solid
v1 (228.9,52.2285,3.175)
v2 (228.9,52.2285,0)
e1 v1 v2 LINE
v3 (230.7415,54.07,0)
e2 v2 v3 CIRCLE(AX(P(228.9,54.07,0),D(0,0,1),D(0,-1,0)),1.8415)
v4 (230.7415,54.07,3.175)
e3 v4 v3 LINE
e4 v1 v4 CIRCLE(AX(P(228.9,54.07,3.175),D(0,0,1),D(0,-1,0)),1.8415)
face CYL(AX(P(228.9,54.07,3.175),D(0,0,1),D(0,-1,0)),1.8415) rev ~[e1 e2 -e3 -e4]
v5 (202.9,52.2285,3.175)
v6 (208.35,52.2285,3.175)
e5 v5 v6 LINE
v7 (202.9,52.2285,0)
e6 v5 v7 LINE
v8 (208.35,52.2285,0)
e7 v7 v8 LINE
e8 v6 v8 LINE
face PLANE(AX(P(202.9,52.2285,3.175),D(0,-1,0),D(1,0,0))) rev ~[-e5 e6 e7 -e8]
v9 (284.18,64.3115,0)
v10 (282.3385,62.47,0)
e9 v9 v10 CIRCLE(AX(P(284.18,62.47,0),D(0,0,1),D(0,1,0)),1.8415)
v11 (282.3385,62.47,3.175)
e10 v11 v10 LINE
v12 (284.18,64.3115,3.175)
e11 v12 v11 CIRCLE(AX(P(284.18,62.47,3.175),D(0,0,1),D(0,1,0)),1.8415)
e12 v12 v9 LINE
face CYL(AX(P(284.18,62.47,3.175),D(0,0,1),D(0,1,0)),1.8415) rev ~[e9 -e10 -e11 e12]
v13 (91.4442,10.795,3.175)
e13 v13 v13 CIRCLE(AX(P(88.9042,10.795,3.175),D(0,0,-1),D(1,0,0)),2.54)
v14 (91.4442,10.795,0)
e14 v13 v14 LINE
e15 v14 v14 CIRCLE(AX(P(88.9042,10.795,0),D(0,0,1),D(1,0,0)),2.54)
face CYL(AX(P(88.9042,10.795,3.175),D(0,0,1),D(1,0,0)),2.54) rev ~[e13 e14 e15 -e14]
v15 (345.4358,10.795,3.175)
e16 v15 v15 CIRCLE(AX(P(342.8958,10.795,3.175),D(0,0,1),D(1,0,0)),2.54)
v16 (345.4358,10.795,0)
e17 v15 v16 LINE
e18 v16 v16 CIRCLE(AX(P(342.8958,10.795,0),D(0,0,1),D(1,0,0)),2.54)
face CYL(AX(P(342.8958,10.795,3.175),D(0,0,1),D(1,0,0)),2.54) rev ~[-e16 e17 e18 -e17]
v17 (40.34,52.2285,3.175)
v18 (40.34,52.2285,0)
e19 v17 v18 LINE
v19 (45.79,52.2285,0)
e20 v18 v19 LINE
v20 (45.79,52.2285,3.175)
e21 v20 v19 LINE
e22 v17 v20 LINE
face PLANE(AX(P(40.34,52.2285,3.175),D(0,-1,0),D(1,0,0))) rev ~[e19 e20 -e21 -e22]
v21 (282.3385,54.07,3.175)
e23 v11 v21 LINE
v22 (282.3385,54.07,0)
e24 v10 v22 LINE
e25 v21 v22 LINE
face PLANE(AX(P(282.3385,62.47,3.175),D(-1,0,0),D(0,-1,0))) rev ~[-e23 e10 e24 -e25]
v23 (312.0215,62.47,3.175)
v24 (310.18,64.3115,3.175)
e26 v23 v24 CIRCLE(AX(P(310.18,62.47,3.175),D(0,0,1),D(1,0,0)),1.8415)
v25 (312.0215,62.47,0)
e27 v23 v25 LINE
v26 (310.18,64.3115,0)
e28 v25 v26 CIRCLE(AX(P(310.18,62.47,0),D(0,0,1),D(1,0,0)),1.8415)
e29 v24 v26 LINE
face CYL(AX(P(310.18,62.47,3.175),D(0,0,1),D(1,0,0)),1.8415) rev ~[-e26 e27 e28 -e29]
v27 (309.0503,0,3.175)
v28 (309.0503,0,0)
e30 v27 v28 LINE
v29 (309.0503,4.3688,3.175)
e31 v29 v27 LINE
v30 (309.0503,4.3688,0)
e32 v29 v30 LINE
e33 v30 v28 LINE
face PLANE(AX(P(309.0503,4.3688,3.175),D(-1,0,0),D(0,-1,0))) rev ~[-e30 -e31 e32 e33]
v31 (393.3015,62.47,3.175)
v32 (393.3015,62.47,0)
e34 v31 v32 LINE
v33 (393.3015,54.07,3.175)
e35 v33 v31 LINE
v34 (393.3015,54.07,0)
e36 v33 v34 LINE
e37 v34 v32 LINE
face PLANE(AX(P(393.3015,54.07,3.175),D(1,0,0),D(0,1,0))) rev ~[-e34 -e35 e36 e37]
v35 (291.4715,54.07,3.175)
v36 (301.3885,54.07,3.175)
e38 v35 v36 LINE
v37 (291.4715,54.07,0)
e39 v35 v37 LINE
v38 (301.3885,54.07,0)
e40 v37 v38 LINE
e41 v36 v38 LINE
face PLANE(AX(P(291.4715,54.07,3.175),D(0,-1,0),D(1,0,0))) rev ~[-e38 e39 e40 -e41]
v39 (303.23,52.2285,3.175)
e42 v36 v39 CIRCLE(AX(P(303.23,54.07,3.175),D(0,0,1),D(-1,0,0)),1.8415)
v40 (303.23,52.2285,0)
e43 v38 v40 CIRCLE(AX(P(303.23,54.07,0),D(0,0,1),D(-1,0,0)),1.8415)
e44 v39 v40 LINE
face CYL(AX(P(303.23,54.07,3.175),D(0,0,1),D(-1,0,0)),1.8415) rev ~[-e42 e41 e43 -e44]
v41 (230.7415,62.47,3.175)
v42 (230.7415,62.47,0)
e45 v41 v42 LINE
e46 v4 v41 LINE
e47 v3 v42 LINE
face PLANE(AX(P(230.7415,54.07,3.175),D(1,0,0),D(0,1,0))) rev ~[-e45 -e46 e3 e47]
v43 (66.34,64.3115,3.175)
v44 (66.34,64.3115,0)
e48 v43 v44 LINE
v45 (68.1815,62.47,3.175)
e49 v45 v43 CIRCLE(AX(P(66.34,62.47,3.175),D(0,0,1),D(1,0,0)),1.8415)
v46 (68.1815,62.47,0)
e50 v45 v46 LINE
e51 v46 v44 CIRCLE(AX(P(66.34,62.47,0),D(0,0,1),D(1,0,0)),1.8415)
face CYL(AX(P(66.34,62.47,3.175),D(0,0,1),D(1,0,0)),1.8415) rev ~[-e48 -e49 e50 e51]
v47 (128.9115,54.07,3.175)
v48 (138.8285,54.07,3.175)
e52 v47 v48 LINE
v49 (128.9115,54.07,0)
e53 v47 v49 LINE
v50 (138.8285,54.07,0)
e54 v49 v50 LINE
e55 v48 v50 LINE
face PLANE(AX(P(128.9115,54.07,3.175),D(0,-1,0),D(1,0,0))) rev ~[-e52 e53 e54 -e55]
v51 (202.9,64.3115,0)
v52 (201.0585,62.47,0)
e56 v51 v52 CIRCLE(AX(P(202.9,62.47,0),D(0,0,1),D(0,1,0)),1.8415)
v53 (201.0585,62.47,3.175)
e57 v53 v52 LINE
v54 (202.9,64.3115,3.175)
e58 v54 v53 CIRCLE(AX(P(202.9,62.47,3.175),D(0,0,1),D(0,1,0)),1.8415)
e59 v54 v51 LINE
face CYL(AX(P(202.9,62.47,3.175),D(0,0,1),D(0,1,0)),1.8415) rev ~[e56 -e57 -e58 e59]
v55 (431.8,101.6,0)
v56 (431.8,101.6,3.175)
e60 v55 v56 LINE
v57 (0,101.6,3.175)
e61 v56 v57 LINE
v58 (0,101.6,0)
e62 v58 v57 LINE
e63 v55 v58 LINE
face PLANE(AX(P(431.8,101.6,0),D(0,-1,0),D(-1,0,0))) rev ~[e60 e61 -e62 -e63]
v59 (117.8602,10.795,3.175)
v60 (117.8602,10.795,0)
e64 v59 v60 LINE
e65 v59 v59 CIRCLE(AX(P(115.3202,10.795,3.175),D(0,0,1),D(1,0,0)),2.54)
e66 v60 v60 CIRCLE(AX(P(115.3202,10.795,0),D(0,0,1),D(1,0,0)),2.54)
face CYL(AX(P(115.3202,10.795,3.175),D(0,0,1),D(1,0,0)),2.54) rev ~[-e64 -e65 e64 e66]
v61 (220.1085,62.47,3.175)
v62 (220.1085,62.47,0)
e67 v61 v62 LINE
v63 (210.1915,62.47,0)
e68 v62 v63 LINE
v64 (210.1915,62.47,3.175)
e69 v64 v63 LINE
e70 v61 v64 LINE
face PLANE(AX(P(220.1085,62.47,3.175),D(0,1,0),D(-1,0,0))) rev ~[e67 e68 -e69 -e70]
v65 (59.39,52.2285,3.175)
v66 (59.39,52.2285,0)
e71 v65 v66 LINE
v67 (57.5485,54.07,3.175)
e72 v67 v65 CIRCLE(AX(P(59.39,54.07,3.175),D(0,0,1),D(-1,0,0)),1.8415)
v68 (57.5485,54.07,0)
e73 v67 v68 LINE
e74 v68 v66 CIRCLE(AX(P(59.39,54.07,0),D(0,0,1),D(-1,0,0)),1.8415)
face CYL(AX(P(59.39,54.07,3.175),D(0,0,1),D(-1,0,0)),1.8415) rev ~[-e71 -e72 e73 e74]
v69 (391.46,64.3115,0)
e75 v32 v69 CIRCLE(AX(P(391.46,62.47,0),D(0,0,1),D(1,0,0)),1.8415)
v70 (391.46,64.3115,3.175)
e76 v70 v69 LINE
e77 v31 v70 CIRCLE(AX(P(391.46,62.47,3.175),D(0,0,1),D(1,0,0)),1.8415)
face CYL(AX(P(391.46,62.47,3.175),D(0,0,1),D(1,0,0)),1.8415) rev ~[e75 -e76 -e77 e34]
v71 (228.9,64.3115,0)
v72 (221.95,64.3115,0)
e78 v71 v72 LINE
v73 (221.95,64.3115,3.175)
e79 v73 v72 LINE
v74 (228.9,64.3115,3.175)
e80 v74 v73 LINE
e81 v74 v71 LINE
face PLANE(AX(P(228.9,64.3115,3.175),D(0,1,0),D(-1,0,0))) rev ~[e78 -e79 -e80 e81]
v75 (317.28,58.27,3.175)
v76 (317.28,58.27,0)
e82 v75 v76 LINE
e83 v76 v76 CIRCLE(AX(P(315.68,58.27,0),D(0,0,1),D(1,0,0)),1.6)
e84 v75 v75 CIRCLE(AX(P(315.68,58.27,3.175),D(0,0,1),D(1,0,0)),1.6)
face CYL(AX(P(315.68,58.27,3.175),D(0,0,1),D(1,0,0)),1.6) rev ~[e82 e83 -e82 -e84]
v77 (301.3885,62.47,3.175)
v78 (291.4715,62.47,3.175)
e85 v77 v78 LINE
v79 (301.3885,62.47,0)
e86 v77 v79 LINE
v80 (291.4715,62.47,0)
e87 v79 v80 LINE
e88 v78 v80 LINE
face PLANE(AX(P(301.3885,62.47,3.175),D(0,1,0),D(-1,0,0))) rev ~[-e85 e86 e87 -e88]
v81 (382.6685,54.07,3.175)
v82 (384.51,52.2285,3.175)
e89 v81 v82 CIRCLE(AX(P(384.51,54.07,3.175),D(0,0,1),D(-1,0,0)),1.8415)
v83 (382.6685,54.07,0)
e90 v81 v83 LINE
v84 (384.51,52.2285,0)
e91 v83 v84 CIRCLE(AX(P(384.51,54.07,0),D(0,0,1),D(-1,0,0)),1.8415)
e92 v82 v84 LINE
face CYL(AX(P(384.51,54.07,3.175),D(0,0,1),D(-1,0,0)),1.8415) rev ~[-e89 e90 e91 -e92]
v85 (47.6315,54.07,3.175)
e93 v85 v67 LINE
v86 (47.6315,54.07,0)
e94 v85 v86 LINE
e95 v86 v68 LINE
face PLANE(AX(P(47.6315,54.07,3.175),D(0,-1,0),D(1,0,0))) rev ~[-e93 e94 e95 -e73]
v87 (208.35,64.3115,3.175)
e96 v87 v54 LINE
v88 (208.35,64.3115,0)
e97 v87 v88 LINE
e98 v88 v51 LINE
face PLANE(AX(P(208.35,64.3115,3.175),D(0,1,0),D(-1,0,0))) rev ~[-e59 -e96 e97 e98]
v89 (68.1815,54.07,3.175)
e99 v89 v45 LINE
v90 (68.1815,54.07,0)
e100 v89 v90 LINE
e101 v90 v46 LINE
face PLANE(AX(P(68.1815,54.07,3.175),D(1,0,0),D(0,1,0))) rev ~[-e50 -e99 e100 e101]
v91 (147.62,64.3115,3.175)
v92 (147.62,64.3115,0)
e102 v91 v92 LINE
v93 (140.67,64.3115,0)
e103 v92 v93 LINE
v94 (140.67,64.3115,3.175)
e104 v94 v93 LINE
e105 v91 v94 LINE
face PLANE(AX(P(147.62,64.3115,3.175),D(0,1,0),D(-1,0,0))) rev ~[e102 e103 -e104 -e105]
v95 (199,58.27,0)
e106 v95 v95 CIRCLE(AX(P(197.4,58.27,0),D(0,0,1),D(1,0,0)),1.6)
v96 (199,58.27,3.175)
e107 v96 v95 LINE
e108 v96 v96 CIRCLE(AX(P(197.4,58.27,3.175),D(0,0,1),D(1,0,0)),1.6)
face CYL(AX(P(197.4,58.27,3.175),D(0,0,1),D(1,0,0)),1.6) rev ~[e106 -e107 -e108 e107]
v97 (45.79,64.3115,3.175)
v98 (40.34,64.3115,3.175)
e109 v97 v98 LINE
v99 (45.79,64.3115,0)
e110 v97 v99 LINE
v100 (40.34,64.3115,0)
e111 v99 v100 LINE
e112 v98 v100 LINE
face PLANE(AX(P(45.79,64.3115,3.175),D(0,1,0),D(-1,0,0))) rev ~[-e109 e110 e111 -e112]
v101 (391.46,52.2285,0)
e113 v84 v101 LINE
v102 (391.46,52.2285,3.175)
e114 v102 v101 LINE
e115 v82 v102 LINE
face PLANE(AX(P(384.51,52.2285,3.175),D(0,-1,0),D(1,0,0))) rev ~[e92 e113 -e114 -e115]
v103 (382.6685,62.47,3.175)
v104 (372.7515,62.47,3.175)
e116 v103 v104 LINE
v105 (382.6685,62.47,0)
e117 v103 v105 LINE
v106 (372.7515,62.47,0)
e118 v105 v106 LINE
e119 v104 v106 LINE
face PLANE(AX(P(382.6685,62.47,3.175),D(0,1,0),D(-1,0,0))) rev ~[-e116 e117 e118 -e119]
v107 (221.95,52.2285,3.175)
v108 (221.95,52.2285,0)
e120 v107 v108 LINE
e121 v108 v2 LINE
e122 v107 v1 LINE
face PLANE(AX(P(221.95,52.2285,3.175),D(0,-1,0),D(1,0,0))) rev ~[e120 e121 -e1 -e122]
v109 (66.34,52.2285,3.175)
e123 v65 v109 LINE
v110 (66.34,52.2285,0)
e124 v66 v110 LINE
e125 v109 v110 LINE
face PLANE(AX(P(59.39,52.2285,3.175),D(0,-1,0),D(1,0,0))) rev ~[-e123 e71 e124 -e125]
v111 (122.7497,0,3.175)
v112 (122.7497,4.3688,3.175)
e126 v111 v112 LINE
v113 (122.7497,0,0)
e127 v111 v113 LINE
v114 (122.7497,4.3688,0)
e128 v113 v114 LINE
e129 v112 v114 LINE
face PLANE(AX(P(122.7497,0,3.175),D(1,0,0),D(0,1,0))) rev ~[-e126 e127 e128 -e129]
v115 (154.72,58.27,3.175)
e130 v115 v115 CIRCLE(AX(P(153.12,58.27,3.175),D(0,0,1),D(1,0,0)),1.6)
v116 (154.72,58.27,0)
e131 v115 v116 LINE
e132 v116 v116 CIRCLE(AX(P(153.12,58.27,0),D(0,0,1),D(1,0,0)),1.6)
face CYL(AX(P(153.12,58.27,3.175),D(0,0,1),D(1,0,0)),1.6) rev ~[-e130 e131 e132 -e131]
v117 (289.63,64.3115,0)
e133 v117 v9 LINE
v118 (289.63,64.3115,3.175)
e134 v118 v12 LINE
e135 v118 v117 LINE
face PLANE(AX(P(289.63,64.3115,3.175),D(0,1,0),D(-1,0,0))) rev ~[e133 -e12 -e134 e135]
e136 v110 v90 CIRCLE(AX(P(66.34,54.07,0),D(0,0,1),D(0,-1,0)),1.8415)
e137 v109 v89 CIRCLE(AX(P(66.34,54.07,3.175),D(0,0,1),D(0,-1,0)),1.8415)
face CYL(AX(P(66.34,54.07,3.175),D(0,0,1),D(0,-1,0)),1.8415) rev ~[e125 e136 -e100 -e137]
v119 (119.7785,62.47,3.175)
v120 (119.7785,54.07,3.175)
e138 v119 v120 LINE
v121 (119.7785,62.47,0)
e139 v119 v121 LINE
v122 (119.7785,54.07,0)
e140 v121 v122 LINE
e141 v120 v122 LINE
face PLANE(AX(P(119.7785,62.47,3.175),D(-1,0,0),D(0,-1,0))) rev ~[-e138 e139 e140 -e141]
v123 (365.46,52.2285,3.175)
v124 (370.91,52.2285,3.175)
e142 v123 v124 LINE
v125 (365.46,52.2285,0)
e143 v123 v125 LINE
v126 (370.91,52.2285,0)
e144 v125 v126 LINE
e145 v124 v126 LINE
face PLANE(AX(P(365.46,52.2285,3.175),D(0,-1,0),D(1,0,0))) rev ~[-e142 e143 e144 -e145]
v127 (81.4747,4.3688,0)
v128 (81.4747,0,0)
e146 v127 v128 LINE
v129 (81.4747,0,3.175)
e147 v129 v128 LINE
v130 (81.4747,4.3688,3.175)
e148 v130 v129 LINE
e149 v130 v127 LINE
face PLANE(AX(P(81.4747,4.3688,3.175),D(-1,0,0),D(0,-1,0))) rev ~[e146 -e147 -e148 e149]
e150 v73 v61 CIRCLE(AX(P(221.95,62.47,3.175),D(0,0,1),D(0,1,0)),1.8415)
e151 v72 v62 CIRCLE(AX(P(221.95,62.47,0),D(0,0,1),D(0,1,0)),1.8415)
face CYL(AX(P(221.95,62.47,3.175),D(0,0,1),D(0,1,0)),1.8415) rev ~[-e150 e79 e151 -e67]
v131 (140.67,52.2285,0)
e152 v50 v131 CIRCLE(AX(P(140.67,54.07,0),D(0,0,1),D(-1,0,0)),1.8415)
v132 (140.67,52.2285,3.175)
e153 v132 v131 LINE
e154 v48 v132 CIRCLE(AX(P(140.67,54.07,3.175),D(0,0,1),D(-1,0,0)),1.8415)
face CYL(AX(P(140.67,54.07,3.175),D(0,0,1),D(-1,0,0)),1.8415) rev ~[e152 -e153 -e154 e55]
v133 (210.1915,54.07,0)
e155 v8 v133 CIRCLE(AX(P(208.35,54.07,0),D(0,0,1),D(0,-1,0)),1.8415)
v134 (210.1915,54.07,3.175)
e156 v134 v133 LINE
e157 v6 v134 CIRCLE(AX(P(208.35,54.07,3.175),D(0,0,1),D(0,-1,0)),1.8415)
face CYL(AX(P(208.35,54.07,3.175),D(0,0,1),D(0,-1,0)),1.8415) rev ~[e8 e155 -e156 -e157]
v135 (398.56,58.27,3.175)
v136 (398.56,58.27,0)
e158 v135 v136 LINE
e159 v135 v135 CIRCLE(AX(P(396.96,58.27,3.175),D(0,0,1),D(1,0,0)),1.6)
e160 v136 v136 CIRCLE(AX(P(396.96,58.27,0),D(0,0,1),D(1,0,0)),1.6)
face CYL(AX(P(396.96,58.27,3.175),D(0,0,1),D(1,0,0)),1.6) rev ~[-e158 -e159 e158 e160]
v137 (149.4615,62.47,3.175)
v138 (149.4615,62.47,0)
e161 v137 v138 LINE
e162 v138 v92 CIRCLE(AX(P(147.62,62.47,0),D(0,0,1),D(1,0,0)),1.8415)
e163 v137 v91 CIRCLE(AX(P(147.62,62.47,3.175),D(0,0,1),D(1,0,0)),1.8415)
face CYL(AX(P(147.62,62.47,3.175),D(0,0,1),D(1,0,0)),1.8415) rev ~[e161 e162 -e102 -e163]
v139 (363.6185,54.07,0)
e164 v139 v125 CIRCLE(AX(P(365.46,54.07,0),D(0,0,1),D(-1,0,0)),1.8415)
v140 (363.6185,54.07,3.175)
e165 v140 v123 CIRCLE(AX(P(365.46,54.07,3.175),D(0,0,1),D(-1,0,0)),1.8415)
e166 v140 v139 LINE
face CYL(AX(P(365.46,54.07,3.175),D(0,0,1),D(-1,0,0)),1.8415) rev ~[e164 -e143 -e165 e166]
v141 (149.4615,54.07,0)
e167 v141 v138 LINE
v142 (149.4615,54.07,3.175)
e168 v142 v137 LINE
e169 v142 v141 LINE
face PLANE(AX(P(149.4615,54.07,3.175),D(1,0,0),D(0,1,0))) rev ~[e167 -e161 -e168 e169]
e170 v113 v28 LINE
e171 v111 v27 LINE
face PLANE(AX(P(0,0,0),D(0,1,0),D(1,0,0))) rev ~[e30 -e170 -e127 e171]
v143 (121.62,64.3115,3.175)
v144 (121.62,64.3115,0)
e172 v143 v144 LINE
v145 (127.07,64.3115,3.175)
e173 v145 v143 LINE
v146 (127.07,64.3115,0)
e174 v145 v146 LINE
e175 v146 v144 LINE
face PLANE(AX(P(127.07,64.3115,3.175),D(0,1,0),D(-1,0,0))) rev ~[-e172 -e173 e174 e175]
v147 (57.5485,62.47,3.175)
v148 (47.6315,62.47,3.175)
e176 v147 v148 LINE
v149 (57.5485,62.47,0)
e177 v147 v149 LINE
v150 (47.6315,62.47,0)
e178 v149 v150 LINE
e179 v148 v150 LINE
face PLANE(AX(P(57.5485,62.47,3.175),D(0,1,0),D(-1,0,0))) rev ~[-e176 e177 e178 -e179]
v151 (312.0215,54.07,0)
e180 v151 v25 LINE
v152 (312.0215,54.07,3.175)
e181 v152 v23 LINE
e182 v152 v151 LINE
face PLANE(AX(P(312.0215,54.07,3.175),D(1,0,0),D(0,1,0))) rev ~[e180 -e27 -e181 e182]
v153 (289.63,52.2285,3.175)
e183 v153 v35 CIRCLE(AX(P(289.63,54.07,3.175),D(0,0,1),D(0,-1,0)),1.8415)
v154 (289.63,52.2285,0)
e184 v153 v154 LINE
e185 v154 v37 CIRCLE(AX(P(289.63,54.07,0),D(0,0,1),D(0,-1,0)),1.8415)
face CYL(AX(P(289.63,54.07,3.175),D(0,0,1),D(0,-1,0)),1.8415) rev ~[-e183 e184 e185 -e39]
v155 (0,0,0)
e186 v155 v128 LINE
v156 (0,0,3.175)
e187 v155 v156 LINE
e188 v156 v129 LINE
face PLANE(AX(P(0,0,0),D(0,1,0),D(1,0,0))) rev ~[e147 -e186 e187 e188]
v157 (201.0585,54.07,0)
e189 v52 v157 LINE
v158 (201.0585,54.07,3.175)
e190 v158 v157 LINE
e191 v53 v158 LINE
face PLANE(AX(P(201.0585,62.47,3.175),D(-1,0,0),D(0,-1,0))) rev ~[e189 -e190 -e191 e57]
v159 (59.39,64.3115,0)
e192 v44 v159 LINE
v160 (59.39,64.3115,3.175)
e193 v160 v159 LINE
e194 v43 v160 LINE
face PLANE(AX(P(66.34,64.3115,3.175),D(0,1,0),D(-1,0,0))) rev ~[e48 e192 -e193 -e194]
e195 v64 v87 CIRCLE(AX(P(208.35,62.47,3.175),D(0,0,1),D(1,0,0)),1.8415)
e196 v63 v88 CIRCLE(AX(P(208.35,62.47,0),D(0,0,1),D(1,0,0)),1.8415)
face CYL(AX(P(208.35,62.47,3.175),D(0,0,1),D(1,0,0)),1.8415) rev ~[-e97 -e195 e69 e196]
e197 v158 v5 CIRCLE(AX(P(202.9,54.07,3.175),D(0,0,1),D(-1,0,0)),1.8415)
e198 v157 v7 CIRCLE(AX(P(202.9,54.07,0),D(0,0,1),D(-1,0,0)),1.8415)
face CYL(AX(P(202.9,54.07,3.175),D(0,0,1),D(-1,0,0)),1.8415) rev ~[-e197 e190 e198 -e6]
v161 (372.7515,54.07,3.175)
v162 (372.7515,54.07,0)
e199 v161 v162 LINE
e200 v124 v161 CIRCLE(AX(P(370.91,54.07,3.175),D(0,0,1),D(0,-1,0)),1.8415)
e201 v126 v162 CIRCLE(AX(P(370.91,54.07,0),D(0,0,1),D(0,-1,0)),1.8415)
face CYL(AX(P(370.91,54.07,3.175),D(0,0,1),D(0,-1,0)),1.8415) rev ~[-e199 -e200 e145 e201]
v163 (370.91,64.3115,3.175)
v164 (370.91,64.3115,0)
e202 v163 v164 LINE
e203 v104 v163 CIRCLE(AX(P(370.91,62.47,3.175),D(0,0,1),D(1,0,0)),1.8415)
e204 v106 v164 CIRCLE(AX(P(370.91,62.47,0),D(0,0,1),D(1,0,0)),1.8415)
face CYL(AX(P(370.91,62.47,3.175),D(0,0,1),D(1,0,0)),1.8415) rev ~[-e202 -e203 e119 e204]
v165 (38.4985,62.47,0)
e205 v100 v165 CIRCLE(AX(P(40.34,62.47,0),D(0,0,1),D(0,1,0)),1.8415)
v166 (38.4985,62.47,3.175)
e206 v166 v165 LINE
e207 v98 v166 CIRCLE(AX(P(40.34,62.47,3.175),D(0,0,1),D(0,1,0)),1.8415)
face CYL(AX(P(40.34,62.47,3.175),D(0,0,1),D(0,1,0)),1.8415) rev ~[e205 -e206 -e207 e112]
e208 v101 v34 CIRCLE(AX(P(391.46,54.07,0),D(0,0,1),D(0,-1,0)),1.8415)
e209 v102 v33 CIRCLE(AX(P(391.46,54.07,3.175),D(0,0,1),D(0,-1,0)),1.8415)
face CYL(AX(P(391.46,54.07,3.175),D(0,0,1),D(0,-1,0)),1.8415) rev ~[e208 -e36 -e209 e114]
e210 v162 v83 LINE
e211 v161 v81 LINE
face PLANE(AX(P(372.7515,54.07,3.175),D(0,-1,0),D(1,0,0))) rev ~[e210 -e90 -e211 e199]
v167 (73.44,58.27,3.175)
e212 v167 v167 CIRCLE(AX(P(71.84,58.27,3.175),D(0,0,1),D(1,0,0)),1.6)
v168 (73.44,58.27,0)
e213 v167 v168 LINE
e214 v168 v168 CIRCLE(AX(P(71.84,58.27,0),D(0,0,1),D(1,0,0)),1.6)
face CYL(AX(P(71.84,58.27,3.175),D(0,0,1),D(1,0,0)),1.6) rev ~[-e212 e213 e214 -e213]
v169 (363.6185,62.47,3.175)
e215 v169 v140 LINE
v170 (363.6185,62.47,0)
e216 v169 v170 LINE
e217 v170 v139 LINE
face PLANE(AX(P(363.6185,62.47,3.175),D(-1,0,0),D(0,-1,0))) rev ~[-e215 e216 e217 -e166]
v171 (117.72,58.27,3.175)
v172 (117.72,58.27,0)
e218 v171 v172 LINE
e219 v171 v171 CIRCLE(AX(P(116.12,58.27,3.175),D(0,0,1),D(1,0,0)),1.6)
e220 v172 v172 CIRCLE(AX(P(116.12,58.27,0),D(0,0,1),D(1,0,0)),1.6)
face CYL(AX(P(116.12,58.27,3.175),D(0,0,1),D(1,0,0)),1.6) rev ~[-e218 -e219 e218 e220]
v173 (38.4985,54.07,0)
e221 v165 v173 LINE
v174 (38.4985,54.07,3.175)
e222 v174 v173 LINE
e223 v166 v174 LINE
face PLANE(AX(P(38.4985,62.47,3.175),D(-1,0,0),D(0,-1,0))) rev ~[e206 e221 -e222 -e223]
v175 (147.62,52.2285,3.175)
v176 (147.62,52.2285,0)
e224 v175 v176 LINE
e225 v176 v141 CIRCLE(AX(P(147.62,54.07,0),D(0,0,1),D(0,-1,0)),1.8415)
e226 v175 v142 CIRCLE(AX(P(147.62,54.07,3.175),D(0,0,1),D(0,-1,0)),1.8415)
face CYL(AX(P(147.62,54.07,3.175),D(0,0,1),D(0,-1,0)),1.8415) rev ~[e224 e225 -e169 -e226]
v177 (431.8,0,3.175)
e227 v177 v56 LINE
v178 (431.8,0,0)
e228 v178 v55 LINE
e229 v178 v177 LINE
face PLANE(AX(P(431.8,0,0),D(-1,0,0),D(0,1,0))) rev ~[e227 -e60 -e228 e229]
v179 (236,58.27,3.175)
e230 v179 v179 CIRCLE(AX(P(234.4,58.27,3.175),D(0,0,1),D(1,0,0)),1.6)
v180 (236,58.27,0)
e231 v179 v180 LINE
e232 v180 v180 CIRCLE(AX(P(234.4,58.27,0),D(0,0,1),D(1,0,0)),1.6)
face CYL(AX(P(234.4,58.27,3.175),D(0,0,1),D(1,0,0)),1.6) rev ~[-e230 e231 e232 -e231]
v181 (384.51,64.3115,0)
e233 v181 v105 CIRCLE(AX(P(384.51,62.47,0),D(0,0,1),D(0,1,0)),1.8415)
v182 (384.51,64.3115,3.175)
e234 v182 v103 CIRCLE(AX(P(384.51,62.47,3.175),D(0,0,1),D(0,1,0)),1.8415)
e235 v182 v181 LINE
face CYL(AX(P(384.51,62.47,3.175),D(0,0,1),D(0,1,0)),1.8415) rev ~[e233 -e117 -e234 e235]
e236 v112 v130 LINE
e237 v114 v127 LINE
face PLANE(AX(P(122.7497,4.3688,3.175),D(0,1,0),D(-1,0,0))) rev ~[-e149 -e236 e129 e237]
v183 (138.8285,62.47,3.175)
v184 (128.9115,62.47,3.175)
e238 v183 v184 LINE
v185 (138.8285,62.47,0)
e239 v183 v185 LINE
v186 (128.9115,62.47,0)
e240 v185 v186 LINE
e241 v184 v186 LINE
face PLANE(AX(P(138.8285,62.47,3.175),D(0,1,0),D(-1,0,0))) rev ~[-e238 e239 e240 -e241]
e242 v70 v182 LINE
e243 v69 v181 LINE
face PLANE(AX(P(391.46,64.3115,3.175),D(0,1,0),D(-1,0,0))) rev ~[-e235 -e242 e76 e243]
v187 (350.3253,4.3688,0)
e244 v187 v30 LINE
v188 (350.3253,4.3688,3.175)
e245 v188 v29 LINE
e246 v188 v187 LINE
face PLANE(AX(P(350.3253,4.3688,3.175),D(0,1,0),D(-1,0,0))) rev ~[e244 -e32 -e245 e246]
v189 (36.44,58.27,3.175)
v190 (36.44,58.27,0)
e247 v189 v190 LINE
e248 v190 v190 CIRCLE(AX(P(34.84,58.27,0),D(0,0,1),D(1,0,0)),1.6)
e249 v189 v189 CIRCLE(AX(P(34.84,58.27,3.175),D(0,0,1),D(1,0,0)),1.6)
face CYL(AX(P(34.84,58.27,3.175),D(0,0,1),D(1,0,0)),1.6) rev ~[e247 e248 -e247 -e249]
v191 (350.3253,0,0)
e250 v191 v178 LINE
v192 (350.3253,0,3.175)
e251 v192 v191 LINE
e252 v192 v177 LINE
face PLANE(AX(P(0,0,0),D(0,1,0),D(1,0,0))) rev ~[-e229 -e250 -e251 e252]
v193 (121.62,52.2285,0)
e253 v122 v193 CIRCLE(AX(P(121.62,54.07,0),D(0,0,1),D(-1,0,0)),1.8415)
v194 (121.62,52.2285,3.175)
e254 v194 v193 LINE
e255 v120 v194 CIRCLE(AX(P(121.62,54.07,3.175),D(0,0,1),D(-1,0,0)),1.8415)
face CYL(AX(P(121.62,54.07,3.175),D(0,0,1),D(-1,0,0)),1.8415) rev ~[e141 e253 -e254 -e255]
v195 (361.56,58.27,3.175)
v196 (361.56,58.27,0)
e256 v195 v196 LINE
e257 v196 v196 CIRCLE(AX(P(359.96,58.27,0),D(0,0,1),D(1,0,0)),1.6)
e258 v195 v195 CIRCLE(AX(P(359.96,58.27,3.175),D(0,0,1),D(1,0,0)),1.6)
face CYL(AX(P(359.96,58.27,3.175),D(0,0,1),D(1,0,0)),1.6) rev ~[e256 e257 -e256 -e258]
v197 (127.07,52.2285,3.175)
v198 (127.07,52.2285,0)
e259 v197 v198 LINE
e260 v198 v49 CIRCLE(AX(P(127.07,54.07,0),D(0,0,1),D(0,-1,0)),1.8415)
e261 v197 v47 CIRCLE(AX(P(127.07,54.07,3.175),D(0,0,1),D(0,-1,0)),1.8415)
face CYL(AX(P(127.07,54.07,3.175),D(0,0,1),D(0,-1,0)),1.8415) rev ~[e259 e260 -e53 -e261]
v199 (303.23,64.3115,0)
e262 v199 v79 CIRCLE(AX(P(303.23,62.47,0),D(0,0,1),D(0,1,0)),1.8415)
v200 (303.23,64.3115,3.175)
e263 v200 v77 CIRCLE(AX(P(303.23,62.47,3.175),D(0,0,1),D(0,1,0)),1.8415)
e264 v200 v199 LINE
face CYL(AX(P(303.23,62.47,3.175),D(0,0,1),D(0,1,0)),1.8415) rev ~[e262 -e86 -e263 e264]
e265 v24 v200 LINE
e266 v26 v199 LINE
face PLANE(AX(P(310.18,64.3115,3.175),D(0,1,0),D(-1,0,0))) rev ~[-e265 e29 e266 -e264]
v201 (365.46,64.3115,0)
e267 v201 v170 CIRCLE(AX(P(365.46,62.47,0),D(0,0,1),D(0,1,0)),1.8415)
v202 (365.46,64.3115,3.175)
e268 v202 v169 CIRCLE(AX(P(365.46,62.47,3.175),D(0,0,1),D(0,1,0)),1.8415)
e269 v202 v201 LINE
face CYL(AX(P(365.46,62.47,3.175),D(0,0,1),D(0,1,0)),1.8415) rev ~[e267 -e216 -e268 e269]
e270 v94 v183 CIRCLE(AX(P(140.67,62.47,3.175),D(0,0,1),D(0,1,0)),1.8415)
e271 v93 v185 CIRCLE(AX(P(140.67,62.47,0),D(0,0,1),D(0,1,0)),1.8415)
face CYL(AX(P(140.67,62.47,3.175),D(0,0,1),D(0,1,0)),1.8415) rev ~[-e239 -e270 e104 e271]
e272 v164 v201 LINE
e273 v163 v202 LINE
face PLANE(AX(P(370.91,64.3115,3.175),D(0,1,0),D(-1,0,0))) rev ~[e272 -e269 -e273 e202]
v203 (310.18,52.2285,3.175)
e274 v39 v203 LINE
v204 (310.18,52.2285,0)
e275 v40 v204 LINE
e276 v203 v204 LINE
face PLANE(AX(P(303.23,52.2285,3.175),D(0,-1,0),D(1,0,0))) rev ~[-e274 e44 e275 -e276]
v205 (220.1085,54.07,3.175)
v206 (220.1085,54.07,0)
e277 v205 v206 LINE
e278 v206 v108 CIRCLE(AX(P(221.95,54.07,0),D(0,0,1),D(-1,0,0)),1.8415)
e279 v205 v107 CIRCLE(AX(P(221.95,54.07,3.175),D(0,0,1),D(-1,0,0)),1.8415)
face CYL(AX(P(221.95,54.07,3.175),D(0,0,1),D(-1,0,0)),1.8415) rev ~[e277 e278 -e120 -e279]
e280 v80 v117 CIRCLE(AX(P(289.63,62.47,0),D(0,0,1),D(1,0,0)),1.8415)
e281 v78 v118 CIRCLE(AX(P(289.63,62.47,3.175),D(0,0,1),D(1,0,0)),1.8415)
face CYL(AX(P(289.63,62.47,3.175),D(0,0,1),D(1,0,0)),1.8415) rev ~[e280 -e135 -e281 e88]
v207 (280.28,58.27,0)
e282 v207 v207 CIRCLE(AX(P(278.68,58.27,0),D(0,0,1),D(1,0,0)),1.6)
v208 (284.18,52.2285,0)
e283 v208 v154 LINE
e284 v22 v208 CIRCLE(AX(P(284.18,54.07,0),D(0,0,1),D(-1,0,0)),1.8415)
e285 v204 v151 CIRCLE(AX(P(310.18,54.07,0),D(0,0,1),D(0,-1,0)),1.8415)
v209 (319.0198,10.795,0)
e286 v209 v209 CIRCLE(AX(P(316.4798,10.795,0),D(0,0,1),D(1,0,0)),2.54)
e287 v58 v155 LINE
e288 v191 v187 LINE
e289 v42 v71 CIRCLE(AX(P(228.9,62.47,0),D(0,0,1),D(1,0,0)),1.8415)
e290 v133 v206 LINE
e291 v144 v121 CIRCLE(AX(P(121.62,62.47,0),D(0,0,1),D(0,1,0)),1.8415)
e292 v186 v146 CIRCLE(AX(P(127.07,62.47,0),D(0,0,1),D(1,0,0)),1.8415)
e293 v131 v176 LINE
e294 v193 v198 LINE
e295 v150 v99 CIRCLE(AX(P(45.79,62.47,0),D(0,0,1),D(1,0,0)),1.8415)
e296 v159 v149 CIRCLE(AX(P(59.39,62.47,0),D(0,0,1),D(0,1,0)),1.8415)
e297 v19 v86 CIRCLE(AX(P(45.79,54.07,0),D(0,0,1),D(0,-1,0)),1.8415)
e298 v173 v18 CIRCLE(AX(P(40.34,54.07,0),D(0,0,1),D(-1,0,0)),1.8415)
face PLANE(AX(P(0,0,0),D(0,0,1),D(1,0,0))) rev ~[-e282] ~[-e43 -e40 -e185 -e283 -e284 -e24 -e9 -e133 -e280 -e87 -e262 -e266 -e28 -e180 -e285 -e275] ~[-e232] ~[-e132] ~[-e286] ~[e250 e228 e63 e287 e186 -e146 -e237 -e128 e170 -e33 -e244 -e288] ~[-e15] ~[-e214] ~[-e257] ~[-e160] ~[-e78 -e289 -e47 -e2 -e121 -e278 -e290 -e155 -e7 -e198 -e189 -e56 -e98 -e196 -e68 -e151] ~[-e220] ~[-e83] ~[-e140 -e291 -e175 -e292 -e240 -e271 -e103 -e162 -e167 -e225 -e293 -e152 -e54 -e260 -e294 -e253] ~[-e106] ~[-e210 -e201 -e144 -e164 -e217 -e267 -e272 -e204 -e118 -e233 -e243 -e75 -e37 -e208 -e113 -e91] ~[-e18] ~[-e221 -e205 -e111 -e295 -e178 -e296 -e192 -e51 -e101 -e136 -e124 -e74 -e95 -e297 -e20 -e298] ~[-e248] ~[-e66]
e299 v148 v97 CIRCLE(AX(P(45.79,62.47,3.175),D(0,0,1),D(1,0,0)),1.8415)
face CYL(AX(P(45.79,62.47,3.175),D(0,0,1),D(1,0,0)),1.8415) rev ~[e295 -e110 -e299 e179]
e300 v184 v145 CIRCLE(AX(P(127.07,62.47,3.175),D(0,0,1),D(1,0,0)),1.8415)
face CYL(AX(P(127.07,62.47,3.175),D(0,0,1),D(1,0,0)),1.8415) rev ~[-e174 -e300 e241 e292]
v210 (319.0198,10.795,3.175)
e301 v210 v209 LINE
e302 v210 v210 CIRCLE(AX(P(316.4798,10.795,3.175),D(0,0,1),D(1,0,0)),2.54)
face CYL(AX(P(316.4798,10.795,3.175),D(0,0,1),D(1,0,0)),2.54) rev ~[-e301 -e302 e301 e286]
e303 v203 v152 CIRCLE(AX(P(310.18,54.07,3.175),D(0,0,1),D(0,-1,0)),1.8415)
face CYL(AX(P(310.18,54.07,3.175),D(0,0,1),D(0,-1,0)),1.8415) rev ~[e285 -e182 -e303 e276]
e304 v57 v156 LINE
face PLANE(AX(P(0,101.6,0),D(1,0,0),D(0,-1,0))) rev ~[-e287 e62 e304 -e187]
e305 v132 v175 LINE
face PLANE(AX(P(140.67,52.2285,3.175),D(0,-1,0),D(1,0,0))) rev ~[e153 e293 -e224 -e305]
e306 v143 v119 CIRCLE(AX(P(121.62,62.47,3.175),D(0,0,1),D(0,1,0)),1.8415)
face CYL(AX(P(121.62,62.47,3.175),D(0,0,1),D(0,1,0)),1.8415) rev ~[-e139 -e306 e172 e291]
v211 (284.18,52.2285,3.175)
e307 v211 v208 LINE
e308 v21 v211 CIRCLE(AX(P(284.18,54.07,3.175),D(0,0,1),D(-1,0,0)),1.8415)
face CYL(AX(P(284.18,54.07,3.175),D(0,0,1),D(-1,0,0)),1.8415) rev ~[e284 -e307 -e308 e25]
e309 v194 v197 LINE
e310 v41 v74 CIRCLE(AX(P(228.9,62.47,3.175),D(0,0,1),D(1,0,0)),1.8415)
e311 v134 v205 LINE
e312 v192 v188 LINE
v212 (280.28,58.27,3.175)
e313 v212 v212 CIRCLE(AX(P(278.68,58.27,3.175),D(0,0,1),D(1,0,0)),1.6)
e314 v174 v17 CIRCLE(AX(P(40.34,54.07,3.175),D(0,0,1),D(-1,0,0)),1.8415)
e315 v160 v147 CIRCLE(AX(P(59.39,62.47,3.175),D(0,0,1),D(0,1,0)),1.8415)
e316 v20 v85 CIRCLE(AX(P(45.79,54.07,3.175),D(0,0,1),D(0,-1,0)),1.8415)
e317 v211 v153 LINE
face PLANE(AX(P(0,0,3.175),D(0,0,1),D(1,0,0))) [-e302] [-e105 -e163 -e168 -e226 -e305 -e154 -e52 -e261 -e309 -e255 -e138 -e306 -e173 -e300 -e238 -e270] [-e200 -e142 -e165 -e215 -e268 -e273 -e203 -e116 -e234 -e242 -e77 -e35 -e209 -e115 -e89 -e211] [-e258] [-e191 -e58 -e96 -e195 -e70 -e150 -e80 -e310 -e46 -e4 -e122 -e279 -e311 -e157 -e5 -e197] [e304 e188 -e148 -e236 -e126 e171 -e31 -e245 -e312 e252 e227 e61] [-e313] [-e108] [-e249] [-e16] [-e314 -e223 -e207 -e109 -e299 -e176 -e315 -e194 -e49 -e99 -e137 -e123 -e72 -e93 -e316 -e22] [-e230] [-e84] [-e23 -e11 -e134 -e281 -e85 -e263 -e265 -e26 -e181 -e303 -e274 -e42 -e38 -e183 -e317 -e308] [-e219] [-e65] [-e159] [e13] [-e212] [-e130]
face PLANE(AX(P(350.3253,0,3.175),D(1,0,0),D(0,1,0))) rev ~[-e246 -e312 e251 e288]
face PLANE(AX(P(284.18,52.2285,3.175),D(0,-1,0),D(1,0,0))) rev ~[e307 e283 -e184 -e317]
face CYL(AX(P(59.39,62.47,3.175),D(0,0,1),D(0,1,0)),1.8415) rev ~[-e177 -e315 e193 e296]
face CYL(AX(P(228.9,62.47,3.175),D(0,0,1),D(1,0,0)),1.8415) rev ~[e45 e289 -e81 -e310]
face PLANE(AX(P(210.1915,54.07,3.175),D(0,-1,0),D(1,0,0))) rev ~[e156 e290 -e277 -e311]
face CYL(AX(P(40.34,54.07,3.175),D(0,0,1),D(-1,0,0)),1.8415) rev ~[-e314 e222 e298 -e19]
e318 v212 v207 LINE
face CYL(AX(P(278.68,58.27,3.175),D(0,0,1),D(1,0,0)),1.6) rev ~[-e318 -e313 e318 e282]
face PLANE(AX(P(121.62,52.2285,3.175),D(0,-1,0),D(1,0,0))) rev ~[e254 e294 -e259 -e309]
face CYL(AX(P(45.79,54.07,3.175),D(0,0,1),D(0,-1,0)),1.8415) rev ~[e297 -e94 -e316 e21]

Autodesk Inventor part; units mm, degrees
ref_plane "YZ Plane" through (0, 0, 0) normal (1, 0, 0) x (0, 1, 0)
ref_plane "XZ Plane" through (0, 0, 0) normal (0, 1, 0) x (-1, 0, 0)
ref_plane "XY Plane" through (0, 0, 0) normal (0, 0, 1) x (1, 0, 0)
sketch "Sketch1" plane through (0, 0, 0) normal (0, 0, 1) x (1, 0, 0)
  line L0 (0, 0) -> (431.8, 0)
  line L1 (431.8, 0) -> (431.8, 101.6)
  line L2 (431.8, 101.6) -> (0, 101.6)
  line L3 (0, 101.6) -> (0, 0)
  dimension "d0" = 431.8
  dimension "d1" = 101.6
extrude "Extrusion1" add sketch "Sketch1" along normal blind 3.175
sketch "Sketch2" plane through (0, 0, 3.175) normal (0, 0, 1) x (1, 0, 0)
  line L0 (0, 0) -> (38.1, 0)
  circle A0 centre (71.84, 58.27) radius 1.6
  circle A1 centre (34.84, 58.27) radius 1.6
  line L1 (57.5485, 62.47) -> (47.6315, 62.47)
  line L2 (47.6315, 54.07) -> (57.5485, 54.07)
  circle A2 centre (116.12, 58.27) radius 1.6
  circle A3 centre (197.4, 58.27) radius 1.6
  circle A4 centre (278.68, 58.27) radius 1.6
  circle A5 centre (359.96, 58.27) radius 1.6
  arc A6 (47.6315, 62.47) -> (45.79, 64.3115) centre (45.79, 62.47) ccw
  arc A7 (40.34, 64.3115) -> (38.4985, 62.47) centre (40.34, 62.47) ccw
  arc A8 (38.4985, 54.07) -> (40.34, 52.2285) centre (40.34, 54.07) ccw
  arc A9 (45.79, 52.2285) -> (47.6315, 54.07) centre (45.79, 54.07) ccw
  arc A10 (57.5485, 54.07) -> (59.39, 52.2285) centre (59.39, 54.07) ccw
  arc A11 (66.34, 52.2285) -> (68.1815, 54.07) centre (66.34, 54.07) ccw
  arc A12 (68.1815, 62.47) -> (66.34, 64.3115) centre (66.34, 62.47) ccw
  arc A13 (59.39, 64.3115) -> (57.5485, 62.47) centre (59.39, 62.47) ccw
  line L3 (45.79, 64.3115) -> (40.34, 64.3115)
  line L4 (38.4985, 62.47) -> (38.4985, 54.07)
  line L5 (40.34, 52.2285) -> (45.79, 52.2285)
  line L6 (59.39, 52.2285) -> (66.34, 52.2285)
  line L7 (68.1815, 54.07) -> (68.1815, 62.47)
  line L8 (66.34, 64.3115) -> (59.39, 64.3115)
  circle A14 centre (153.12, 58.27) radius 1.6
  line L9 (138.8285, 62.47) -> (128.9115, 62.47)
  line L10 (128.9115, 54.07) -> (138.8285, 54.07)
  arc A15 (128.9115, 62.47) -> (127.07, 64.3115) centre (127.07, 62.47) ccw
  arc A16 (121.62, 64.3115) -> (119.7785, 62.47) centre (121.62, 62.47) ccw
  arc A17 (119.7785, 54.07) -> (121.62, 52.2285) centre (121.62, 54.07) ccw
  arc A18 (127.07, 52.2285) -> (128.9115, 54.07) centre (127.07, 54.07) ccw
  arc A19 (138.8285, 54.07) -> (140.67, 52.2285) centre (140.67, 54.07) ccw
  arc A20 (147.62, 52.2285) -> (149.4615, 54.07) centre (147.62, 54.07) ccw
  arc A21 (149.4615, 62.47) -> (147.62, 64.3115) centre (147.62, 62.47) ccw
  arc A22 (140.67, 64.3115) -> (138.8285, 62.47) centre (140.67, 62.47) ccw
  line L11 (127.07, 64.3115) -> (121.62, 64.3115)
  line L12 (119.7785, 62.47) -> (119.7785, 54.07)
  line L13 (121.62, 52.2285) -> (127.07, 52.2285)
  line L14 (140.67, 52.2285) -> (147.62, 52.2285)
  line L15 (149.4615, 54.07) -> (149.4615, 62.47)
  line L16 (147.62, 64.3115) -> (140.67, 64.3115)
  circle A23 centre (234.4, 58.27) radius 1.6
  line L17 (220.1085, 62.47) -> (210.1915, 62.47)
  line L18 (210.1915, 54.07) -> (220.1085, 54.07)
  arc A24 (210.1915, 62.47) -> (208.35, 64.3115) centre (208.35, 62.47) ccw
  arc A25 (202.9, 64.3115) -> (201.0585, 62.47) centre (202.9, 62.47) ccw
  arc A26 (201.0585, 54.07) -> (202.9, 52.2285) centre (202.9, 54.07) ccw
  arc A27 (208.35, 52.2285) -> (210.1915, 54.07) centre (208.35, 54.07) ccw
  arc A28 (220.1085, 54.07) -> (221.95, 52.2285) centre (221.95, 54.07) ccw
  arc A29 (228.9, 52.2285) -> (230.7415, 54.07) centre (228.9, 54.07) ccw
  arc A30 (230.7415, 62.47) -> (228.9, 64.3115) centre (228.9, 62.47) ccw
  arc A31 (221.95, 64.3115) -> (220.1085, 62.47) centre (221.95, 62.47) ccw
  line L19 (208.35, 64.3115) -> (202.9, 64.3115)
  line L20 (201.0585, 62.47) -> (201.0585, 54.07)
  line L21 (202.9, 52.2285) -> (208.35, 52.2285)
  line L22 (221.95, 52.2285) -> (228.9, 52.2285)
  line L23 (230.7415, 54.07) -> (230.7415, 62.47)
  line L24 (228.9, 64.3115) -> (221.95, 64.3115)
  circle A32 centre (315.68, 58.27) radius 1.6
  line L25 (301.3885, 62.47) -> (291.4715, 62.47)
  line L26 (291.4715, 54.07) -> (301.3885, 54.07)
  arc A33 (291.4715, 62.47) -> (289.63, 64.3115) centre (289.63, 62.47) ccw
  arc A34 (284.18, 64.3115) -> (282.3385, 62.47) centre (284.18, 62.47) ccw
  arc A35 (282.3385, 54.07) -> (284.18, 52.2285) centre (284.18, 54.07) ccw
  arc A36 (289.63, 52.2285) -> (291.4715, 54.07) centre (289.63, 54.07) ccw
  arc A37 (301.3885, 54.07) -> (303.23, 52.2285) centre (303.23, 54.07) ccw
  arc A38 (310.18, 52.2285) -> (312.0215, 54.07) centre (310.18, 54.07) ccw
  arc A39 (312.0215, 62.47) -> (310.18, 64.3115) centre (310.18, 62.47) ccw
  arc A40 (303.23, 64.3115) -> (301.3885, 62.47) centre (303.23, 62.47) ccw
  line L27 (289.63, 64.3115) -> (284.18, 64.3115)
  line L28 (282.3385, 62.47) -> (282.3385, 54.07)
  line L29 (284.18, 52.2285) -> (289.63, 52.2285)
  line L30 (303.23, 52.2285) -> (310.18, 52.2285)
  line L31 (312.0215, 54.07) -> (312.0215, 62.47)
  line L32 (310.18, 64.3115) -> (303.23, 64.3115)
  circle A41 centre (396.96, 58.27) radius 1.6
  line L33 (382.6685, 62.47) -> (372.7515, 62.47)
  line L34 (372.7515, 54.07) -> (382.6685, 54.07)
  arc A42 (372.7515, 62.47) -> (370.91, 64.3115) centre (370.91, 62.47) ccw
  arc A43 (365.46, 64.3115) -> (363.6185, 62.47) centre (365.46, 62.47) ccw
  arc A44 (363.6185, 54.07) -> (365.46, 52.2285) centre (365.46, 54.07) ccw
  arc A45 (370.91, 52.2285) -> (372.7515, 54.07) centre (370.91, 54.07) ccw
  arc A46 (382.6685, 54.07) -> (384.51, 52.2285) centre (384.51, 54.07) ccw
  arc A47 (391.46, 52.2285) -> (393.3015, 54.07) centre (391.46, 54.07) ccw
  arc A48 (393.3015, 62.47) -> (391.46, 64.3115) centre (391.46, 62.47) ccw
  arc A49 (384.51, 64.3115) -> (382.6685, 62.47) centre (384.51, 62.47) ccw
  line L35 (370.91, 64.3115) -> (365.46, 64.3115)
  line L36 (363.6185, 62.47) -> (363.6185, 54.07)
  line L37 (365.46, 52.2285) -> (370.91, 52.2285)
  line L38 (384.51, 52.2285) -> (391.46, 52.2285)
  line L39 (393.3015, 54.07) -> (393.3015, 62.47)
  line L40 (391.46, 64.3115) -> (384.51, 64.3115)
  point P0 (68.09, 58.27)
  point P1 (149.37, 58.27)
  point P2 (230.65, 58.27)
  point P3 (311.93, 58.27)
  point P4 (393.21, 58.27)
extrude "Extrusion2" cut sketch "Sketch2" against normal blind 25.4
sketch "Sketch3" plane through (0, 0, 3.175) normal (0, 0, 1) x (1, 0, 0)
  circle A0 centre (88.9042, 10.795) radius 2.54
  circle A1 centre (115.3202, 10.795) radius 2.54
  circle A2 centre (316.4798, 10.795) radius 2.54
  circle A3 centre (342.8958, 10.795) radius 2.54
  line L0 (0, 101.6) -> (0, 0) projected
  line L1 (0, 0) -> (0, 10.795)
  line L2 (88.9042, 10.795) -> (0, 10.795)
  dimension "d37" = 10.795
extrude "Extrusion3" cut sketch "Sketch3" against normal blind 3.175
sketch "Sketch4" plane through (0, 0, 3.175) normal (0, 0, 1) x (1, 0, 0)
  circle A0 centre (88.9042, 10.795) radius 2.54 projected
  circle A1 centre (115.3202, 10.795) radius 2.54 projected
  line L0 (102.1122, 0) -> (121.213, 0)
  line L1 (102.1122, 0) -> (83.0114, 0)
  line L2 (83.0114, 0) -> (83.0114, 3.81)
  line L3 (83.0114, 3.81) -> (121.213, 3.81)
  line L4 (121.213, 3.81) -> (121.213, 0)
  line L5 (329.6878, 0) -> (310.587, 0)
  line L6 (329.6878, 0) -> (348.7886, 0)
  line L7 (348.7886, 0) -> (348.7886, 3.81)
  line L8 (348.7886, 3.81) -> (310.587, 3.81)
  line L9 (310.587, 3.81) -> (310.587, 0)
  point P0 (0, 0)
  point P1 (431.8, 0)
extrude "Extrusion4" cut sketch "Sketch4" against normal blind 3.175 contours L1 L2 L3 L4 L0 | L5 L9 L8 L7 L6
sketch "Sketch8" plane through (0, 0, 3.175) normal (0, 0, 1) x (1, 0, 0)
  line L0 (102.108, 431.8) -> (122.7455, 431.8)
  line L1 (102.108, 431.8) -> (81.4705, 431.8)
  line L2 (81.4705, 431.8) -> (81.4705, 429.26)
  line L3 (121.158, 429.26) -> (83.058, 429.26)
  line L4 (122.7455, 429.26) -> (122.7455, 431.8)
  line L5 (121.158, 429.26) -> (121.158, 431.8)
  line L6 (81.4705, 431.8) -> (81.4705, 427.4312)
  line L7 (81.4705, 427.4312) -> (122.7455, 427.4312)
  line L8 (122.7455, 427.4312) -> (122.7455, 429.26)
  line L9 (83.058, 429.26) -> (83.058, 427.4312)
  line L10 (121.158, 429.26) -> (121.158, 427.4312)
  line L11 (102.108, 431.8) -> (122.7455, 431.8)
  line L12 (102.108, 431.8) -> (81.4705, 431.8)
  line L13 (81.4705, 431.8) -> (81.4705, 429.26)
  line L14 (121.158, 429.26) -> (83.058, 429.26)
  line L15 (122.7455, 429.26) -> (122.7455, 431.8)
  line L16 (121.158, 429.26) -> (121.158, 431.8)
  line L17 (81.4705, 431.8) -> (81.4705, 427.4312)
  line L18 (81.4705, 427.4312) -> (122.7455, 427.4312)
  line L19 (122.7455, 427.4312) -> (122.7455, 429.26)
  line L20 (83.058, 429.26) -> (83.058, 427.4312)
  line L21 (121.158, 429.26) -> (121.158, 427.4312)
  line L22 (102.108, 431.8) -> (122.7455, 431.8)
  line L23 (102.108, 431.8) -> (81.4705, 431.8)
  line L24 (81.4705, 431.8) -> (81.4705, 429.26)
  line L25 (121.158, 429.26) -> (83.058, 429.26)
  line L26 (122.7455, 429.26) -> (122.7455, 431.8)
  line L27 (121.158, 429.26) -> (121.158, 431.8)
  line L28 (81.4705, 431.8) -> (81.4705, 427.4312)
  line L29 (81.4705, 427.4312) -> (122.7455, 427.4312)
  line L30 (122.7455, 427.4312) -> (122.7455, 429.26)
  line L31 (83.058, 429.26) -> (83.058, 427.4312)
  line L32 (121.158, 429.26) -> (121.158, 427.4312)
  line L33 (121.213, 3.81) -> (83.0114, 3.81) projected
  line L34 (102.1122, 3.81) -> (102.1122, 0)
  line L35 (102.1122, 0) -> (122.7497, 0)
  line L36 (121.213, 0) -> (310.587, 0) projected
  line L37 (122.7497, 0) -> (122.7497, 4.3688)
  line L38 (122.7497, 4.3688) -> (81.4747, 4.3688)
  line L39 (81.4747, 4.3688) -> (81.4747, 0)
  line L40 (0, 0) -> (83.0114, 0) projected
  line L41 (83.0114, 0) -> (122.7497, 0)
  line L42 (81.4747, 0) -> (102.1122, 0)
  line L43 (83.0114, 0) -> (83.0114, -1.0374)
  line L44 (310.587, 0) -> (310.587, -4.8026)
  line L45 (329.6878, 3.81) -> (329.6878, 0)
  line L46 (329.6878, 0) -> (350.3253, 0)
  line L47 (350.3253, 0) -> (350.3253, 4.3688)
  line L48 (350.3253, 4.3688) -> (309.0503, 4.3688)
  line L49 (309.0503, 4.3688) -> (309.0503, 0)
  line L50 (310.587, 0) -> (350.3253, 0)
  line L51 (309.0503, 0) -> (329.6878, 0)
  line L52 (310.587, 0) -> (310.587, -1.0374)
  point P0 (83.058, 431.8)
  point P1 (83.058, 431.8)
  point P2 (83.058, 431.8)
  point P3 (102.1122, 0)
  dimension "d55" = 20.6375
  dimension "d56" = 4.3688
  dimension "d57" = 20.6375
  dimension "d58" = 4.3688
  dimension "d59" = 20.6375
  dimension "d60" = 4.3688
  dimension "d61" = 20.6375
  dimension "d62" = 4.3688
  dimension "d63" = 41.275
  dimension "d64" = 20.6375
  dimension "d65" = 4.3688
  dimension "d66" = 41.275
extrude "Extrusion5" cut sketch "Sketch8" against normal blind 25.4 contours L41 L40 L39 L38 L37 L35 | L49 L48 L47 L46 L50 L36
properties part number "220207 Front Top"
